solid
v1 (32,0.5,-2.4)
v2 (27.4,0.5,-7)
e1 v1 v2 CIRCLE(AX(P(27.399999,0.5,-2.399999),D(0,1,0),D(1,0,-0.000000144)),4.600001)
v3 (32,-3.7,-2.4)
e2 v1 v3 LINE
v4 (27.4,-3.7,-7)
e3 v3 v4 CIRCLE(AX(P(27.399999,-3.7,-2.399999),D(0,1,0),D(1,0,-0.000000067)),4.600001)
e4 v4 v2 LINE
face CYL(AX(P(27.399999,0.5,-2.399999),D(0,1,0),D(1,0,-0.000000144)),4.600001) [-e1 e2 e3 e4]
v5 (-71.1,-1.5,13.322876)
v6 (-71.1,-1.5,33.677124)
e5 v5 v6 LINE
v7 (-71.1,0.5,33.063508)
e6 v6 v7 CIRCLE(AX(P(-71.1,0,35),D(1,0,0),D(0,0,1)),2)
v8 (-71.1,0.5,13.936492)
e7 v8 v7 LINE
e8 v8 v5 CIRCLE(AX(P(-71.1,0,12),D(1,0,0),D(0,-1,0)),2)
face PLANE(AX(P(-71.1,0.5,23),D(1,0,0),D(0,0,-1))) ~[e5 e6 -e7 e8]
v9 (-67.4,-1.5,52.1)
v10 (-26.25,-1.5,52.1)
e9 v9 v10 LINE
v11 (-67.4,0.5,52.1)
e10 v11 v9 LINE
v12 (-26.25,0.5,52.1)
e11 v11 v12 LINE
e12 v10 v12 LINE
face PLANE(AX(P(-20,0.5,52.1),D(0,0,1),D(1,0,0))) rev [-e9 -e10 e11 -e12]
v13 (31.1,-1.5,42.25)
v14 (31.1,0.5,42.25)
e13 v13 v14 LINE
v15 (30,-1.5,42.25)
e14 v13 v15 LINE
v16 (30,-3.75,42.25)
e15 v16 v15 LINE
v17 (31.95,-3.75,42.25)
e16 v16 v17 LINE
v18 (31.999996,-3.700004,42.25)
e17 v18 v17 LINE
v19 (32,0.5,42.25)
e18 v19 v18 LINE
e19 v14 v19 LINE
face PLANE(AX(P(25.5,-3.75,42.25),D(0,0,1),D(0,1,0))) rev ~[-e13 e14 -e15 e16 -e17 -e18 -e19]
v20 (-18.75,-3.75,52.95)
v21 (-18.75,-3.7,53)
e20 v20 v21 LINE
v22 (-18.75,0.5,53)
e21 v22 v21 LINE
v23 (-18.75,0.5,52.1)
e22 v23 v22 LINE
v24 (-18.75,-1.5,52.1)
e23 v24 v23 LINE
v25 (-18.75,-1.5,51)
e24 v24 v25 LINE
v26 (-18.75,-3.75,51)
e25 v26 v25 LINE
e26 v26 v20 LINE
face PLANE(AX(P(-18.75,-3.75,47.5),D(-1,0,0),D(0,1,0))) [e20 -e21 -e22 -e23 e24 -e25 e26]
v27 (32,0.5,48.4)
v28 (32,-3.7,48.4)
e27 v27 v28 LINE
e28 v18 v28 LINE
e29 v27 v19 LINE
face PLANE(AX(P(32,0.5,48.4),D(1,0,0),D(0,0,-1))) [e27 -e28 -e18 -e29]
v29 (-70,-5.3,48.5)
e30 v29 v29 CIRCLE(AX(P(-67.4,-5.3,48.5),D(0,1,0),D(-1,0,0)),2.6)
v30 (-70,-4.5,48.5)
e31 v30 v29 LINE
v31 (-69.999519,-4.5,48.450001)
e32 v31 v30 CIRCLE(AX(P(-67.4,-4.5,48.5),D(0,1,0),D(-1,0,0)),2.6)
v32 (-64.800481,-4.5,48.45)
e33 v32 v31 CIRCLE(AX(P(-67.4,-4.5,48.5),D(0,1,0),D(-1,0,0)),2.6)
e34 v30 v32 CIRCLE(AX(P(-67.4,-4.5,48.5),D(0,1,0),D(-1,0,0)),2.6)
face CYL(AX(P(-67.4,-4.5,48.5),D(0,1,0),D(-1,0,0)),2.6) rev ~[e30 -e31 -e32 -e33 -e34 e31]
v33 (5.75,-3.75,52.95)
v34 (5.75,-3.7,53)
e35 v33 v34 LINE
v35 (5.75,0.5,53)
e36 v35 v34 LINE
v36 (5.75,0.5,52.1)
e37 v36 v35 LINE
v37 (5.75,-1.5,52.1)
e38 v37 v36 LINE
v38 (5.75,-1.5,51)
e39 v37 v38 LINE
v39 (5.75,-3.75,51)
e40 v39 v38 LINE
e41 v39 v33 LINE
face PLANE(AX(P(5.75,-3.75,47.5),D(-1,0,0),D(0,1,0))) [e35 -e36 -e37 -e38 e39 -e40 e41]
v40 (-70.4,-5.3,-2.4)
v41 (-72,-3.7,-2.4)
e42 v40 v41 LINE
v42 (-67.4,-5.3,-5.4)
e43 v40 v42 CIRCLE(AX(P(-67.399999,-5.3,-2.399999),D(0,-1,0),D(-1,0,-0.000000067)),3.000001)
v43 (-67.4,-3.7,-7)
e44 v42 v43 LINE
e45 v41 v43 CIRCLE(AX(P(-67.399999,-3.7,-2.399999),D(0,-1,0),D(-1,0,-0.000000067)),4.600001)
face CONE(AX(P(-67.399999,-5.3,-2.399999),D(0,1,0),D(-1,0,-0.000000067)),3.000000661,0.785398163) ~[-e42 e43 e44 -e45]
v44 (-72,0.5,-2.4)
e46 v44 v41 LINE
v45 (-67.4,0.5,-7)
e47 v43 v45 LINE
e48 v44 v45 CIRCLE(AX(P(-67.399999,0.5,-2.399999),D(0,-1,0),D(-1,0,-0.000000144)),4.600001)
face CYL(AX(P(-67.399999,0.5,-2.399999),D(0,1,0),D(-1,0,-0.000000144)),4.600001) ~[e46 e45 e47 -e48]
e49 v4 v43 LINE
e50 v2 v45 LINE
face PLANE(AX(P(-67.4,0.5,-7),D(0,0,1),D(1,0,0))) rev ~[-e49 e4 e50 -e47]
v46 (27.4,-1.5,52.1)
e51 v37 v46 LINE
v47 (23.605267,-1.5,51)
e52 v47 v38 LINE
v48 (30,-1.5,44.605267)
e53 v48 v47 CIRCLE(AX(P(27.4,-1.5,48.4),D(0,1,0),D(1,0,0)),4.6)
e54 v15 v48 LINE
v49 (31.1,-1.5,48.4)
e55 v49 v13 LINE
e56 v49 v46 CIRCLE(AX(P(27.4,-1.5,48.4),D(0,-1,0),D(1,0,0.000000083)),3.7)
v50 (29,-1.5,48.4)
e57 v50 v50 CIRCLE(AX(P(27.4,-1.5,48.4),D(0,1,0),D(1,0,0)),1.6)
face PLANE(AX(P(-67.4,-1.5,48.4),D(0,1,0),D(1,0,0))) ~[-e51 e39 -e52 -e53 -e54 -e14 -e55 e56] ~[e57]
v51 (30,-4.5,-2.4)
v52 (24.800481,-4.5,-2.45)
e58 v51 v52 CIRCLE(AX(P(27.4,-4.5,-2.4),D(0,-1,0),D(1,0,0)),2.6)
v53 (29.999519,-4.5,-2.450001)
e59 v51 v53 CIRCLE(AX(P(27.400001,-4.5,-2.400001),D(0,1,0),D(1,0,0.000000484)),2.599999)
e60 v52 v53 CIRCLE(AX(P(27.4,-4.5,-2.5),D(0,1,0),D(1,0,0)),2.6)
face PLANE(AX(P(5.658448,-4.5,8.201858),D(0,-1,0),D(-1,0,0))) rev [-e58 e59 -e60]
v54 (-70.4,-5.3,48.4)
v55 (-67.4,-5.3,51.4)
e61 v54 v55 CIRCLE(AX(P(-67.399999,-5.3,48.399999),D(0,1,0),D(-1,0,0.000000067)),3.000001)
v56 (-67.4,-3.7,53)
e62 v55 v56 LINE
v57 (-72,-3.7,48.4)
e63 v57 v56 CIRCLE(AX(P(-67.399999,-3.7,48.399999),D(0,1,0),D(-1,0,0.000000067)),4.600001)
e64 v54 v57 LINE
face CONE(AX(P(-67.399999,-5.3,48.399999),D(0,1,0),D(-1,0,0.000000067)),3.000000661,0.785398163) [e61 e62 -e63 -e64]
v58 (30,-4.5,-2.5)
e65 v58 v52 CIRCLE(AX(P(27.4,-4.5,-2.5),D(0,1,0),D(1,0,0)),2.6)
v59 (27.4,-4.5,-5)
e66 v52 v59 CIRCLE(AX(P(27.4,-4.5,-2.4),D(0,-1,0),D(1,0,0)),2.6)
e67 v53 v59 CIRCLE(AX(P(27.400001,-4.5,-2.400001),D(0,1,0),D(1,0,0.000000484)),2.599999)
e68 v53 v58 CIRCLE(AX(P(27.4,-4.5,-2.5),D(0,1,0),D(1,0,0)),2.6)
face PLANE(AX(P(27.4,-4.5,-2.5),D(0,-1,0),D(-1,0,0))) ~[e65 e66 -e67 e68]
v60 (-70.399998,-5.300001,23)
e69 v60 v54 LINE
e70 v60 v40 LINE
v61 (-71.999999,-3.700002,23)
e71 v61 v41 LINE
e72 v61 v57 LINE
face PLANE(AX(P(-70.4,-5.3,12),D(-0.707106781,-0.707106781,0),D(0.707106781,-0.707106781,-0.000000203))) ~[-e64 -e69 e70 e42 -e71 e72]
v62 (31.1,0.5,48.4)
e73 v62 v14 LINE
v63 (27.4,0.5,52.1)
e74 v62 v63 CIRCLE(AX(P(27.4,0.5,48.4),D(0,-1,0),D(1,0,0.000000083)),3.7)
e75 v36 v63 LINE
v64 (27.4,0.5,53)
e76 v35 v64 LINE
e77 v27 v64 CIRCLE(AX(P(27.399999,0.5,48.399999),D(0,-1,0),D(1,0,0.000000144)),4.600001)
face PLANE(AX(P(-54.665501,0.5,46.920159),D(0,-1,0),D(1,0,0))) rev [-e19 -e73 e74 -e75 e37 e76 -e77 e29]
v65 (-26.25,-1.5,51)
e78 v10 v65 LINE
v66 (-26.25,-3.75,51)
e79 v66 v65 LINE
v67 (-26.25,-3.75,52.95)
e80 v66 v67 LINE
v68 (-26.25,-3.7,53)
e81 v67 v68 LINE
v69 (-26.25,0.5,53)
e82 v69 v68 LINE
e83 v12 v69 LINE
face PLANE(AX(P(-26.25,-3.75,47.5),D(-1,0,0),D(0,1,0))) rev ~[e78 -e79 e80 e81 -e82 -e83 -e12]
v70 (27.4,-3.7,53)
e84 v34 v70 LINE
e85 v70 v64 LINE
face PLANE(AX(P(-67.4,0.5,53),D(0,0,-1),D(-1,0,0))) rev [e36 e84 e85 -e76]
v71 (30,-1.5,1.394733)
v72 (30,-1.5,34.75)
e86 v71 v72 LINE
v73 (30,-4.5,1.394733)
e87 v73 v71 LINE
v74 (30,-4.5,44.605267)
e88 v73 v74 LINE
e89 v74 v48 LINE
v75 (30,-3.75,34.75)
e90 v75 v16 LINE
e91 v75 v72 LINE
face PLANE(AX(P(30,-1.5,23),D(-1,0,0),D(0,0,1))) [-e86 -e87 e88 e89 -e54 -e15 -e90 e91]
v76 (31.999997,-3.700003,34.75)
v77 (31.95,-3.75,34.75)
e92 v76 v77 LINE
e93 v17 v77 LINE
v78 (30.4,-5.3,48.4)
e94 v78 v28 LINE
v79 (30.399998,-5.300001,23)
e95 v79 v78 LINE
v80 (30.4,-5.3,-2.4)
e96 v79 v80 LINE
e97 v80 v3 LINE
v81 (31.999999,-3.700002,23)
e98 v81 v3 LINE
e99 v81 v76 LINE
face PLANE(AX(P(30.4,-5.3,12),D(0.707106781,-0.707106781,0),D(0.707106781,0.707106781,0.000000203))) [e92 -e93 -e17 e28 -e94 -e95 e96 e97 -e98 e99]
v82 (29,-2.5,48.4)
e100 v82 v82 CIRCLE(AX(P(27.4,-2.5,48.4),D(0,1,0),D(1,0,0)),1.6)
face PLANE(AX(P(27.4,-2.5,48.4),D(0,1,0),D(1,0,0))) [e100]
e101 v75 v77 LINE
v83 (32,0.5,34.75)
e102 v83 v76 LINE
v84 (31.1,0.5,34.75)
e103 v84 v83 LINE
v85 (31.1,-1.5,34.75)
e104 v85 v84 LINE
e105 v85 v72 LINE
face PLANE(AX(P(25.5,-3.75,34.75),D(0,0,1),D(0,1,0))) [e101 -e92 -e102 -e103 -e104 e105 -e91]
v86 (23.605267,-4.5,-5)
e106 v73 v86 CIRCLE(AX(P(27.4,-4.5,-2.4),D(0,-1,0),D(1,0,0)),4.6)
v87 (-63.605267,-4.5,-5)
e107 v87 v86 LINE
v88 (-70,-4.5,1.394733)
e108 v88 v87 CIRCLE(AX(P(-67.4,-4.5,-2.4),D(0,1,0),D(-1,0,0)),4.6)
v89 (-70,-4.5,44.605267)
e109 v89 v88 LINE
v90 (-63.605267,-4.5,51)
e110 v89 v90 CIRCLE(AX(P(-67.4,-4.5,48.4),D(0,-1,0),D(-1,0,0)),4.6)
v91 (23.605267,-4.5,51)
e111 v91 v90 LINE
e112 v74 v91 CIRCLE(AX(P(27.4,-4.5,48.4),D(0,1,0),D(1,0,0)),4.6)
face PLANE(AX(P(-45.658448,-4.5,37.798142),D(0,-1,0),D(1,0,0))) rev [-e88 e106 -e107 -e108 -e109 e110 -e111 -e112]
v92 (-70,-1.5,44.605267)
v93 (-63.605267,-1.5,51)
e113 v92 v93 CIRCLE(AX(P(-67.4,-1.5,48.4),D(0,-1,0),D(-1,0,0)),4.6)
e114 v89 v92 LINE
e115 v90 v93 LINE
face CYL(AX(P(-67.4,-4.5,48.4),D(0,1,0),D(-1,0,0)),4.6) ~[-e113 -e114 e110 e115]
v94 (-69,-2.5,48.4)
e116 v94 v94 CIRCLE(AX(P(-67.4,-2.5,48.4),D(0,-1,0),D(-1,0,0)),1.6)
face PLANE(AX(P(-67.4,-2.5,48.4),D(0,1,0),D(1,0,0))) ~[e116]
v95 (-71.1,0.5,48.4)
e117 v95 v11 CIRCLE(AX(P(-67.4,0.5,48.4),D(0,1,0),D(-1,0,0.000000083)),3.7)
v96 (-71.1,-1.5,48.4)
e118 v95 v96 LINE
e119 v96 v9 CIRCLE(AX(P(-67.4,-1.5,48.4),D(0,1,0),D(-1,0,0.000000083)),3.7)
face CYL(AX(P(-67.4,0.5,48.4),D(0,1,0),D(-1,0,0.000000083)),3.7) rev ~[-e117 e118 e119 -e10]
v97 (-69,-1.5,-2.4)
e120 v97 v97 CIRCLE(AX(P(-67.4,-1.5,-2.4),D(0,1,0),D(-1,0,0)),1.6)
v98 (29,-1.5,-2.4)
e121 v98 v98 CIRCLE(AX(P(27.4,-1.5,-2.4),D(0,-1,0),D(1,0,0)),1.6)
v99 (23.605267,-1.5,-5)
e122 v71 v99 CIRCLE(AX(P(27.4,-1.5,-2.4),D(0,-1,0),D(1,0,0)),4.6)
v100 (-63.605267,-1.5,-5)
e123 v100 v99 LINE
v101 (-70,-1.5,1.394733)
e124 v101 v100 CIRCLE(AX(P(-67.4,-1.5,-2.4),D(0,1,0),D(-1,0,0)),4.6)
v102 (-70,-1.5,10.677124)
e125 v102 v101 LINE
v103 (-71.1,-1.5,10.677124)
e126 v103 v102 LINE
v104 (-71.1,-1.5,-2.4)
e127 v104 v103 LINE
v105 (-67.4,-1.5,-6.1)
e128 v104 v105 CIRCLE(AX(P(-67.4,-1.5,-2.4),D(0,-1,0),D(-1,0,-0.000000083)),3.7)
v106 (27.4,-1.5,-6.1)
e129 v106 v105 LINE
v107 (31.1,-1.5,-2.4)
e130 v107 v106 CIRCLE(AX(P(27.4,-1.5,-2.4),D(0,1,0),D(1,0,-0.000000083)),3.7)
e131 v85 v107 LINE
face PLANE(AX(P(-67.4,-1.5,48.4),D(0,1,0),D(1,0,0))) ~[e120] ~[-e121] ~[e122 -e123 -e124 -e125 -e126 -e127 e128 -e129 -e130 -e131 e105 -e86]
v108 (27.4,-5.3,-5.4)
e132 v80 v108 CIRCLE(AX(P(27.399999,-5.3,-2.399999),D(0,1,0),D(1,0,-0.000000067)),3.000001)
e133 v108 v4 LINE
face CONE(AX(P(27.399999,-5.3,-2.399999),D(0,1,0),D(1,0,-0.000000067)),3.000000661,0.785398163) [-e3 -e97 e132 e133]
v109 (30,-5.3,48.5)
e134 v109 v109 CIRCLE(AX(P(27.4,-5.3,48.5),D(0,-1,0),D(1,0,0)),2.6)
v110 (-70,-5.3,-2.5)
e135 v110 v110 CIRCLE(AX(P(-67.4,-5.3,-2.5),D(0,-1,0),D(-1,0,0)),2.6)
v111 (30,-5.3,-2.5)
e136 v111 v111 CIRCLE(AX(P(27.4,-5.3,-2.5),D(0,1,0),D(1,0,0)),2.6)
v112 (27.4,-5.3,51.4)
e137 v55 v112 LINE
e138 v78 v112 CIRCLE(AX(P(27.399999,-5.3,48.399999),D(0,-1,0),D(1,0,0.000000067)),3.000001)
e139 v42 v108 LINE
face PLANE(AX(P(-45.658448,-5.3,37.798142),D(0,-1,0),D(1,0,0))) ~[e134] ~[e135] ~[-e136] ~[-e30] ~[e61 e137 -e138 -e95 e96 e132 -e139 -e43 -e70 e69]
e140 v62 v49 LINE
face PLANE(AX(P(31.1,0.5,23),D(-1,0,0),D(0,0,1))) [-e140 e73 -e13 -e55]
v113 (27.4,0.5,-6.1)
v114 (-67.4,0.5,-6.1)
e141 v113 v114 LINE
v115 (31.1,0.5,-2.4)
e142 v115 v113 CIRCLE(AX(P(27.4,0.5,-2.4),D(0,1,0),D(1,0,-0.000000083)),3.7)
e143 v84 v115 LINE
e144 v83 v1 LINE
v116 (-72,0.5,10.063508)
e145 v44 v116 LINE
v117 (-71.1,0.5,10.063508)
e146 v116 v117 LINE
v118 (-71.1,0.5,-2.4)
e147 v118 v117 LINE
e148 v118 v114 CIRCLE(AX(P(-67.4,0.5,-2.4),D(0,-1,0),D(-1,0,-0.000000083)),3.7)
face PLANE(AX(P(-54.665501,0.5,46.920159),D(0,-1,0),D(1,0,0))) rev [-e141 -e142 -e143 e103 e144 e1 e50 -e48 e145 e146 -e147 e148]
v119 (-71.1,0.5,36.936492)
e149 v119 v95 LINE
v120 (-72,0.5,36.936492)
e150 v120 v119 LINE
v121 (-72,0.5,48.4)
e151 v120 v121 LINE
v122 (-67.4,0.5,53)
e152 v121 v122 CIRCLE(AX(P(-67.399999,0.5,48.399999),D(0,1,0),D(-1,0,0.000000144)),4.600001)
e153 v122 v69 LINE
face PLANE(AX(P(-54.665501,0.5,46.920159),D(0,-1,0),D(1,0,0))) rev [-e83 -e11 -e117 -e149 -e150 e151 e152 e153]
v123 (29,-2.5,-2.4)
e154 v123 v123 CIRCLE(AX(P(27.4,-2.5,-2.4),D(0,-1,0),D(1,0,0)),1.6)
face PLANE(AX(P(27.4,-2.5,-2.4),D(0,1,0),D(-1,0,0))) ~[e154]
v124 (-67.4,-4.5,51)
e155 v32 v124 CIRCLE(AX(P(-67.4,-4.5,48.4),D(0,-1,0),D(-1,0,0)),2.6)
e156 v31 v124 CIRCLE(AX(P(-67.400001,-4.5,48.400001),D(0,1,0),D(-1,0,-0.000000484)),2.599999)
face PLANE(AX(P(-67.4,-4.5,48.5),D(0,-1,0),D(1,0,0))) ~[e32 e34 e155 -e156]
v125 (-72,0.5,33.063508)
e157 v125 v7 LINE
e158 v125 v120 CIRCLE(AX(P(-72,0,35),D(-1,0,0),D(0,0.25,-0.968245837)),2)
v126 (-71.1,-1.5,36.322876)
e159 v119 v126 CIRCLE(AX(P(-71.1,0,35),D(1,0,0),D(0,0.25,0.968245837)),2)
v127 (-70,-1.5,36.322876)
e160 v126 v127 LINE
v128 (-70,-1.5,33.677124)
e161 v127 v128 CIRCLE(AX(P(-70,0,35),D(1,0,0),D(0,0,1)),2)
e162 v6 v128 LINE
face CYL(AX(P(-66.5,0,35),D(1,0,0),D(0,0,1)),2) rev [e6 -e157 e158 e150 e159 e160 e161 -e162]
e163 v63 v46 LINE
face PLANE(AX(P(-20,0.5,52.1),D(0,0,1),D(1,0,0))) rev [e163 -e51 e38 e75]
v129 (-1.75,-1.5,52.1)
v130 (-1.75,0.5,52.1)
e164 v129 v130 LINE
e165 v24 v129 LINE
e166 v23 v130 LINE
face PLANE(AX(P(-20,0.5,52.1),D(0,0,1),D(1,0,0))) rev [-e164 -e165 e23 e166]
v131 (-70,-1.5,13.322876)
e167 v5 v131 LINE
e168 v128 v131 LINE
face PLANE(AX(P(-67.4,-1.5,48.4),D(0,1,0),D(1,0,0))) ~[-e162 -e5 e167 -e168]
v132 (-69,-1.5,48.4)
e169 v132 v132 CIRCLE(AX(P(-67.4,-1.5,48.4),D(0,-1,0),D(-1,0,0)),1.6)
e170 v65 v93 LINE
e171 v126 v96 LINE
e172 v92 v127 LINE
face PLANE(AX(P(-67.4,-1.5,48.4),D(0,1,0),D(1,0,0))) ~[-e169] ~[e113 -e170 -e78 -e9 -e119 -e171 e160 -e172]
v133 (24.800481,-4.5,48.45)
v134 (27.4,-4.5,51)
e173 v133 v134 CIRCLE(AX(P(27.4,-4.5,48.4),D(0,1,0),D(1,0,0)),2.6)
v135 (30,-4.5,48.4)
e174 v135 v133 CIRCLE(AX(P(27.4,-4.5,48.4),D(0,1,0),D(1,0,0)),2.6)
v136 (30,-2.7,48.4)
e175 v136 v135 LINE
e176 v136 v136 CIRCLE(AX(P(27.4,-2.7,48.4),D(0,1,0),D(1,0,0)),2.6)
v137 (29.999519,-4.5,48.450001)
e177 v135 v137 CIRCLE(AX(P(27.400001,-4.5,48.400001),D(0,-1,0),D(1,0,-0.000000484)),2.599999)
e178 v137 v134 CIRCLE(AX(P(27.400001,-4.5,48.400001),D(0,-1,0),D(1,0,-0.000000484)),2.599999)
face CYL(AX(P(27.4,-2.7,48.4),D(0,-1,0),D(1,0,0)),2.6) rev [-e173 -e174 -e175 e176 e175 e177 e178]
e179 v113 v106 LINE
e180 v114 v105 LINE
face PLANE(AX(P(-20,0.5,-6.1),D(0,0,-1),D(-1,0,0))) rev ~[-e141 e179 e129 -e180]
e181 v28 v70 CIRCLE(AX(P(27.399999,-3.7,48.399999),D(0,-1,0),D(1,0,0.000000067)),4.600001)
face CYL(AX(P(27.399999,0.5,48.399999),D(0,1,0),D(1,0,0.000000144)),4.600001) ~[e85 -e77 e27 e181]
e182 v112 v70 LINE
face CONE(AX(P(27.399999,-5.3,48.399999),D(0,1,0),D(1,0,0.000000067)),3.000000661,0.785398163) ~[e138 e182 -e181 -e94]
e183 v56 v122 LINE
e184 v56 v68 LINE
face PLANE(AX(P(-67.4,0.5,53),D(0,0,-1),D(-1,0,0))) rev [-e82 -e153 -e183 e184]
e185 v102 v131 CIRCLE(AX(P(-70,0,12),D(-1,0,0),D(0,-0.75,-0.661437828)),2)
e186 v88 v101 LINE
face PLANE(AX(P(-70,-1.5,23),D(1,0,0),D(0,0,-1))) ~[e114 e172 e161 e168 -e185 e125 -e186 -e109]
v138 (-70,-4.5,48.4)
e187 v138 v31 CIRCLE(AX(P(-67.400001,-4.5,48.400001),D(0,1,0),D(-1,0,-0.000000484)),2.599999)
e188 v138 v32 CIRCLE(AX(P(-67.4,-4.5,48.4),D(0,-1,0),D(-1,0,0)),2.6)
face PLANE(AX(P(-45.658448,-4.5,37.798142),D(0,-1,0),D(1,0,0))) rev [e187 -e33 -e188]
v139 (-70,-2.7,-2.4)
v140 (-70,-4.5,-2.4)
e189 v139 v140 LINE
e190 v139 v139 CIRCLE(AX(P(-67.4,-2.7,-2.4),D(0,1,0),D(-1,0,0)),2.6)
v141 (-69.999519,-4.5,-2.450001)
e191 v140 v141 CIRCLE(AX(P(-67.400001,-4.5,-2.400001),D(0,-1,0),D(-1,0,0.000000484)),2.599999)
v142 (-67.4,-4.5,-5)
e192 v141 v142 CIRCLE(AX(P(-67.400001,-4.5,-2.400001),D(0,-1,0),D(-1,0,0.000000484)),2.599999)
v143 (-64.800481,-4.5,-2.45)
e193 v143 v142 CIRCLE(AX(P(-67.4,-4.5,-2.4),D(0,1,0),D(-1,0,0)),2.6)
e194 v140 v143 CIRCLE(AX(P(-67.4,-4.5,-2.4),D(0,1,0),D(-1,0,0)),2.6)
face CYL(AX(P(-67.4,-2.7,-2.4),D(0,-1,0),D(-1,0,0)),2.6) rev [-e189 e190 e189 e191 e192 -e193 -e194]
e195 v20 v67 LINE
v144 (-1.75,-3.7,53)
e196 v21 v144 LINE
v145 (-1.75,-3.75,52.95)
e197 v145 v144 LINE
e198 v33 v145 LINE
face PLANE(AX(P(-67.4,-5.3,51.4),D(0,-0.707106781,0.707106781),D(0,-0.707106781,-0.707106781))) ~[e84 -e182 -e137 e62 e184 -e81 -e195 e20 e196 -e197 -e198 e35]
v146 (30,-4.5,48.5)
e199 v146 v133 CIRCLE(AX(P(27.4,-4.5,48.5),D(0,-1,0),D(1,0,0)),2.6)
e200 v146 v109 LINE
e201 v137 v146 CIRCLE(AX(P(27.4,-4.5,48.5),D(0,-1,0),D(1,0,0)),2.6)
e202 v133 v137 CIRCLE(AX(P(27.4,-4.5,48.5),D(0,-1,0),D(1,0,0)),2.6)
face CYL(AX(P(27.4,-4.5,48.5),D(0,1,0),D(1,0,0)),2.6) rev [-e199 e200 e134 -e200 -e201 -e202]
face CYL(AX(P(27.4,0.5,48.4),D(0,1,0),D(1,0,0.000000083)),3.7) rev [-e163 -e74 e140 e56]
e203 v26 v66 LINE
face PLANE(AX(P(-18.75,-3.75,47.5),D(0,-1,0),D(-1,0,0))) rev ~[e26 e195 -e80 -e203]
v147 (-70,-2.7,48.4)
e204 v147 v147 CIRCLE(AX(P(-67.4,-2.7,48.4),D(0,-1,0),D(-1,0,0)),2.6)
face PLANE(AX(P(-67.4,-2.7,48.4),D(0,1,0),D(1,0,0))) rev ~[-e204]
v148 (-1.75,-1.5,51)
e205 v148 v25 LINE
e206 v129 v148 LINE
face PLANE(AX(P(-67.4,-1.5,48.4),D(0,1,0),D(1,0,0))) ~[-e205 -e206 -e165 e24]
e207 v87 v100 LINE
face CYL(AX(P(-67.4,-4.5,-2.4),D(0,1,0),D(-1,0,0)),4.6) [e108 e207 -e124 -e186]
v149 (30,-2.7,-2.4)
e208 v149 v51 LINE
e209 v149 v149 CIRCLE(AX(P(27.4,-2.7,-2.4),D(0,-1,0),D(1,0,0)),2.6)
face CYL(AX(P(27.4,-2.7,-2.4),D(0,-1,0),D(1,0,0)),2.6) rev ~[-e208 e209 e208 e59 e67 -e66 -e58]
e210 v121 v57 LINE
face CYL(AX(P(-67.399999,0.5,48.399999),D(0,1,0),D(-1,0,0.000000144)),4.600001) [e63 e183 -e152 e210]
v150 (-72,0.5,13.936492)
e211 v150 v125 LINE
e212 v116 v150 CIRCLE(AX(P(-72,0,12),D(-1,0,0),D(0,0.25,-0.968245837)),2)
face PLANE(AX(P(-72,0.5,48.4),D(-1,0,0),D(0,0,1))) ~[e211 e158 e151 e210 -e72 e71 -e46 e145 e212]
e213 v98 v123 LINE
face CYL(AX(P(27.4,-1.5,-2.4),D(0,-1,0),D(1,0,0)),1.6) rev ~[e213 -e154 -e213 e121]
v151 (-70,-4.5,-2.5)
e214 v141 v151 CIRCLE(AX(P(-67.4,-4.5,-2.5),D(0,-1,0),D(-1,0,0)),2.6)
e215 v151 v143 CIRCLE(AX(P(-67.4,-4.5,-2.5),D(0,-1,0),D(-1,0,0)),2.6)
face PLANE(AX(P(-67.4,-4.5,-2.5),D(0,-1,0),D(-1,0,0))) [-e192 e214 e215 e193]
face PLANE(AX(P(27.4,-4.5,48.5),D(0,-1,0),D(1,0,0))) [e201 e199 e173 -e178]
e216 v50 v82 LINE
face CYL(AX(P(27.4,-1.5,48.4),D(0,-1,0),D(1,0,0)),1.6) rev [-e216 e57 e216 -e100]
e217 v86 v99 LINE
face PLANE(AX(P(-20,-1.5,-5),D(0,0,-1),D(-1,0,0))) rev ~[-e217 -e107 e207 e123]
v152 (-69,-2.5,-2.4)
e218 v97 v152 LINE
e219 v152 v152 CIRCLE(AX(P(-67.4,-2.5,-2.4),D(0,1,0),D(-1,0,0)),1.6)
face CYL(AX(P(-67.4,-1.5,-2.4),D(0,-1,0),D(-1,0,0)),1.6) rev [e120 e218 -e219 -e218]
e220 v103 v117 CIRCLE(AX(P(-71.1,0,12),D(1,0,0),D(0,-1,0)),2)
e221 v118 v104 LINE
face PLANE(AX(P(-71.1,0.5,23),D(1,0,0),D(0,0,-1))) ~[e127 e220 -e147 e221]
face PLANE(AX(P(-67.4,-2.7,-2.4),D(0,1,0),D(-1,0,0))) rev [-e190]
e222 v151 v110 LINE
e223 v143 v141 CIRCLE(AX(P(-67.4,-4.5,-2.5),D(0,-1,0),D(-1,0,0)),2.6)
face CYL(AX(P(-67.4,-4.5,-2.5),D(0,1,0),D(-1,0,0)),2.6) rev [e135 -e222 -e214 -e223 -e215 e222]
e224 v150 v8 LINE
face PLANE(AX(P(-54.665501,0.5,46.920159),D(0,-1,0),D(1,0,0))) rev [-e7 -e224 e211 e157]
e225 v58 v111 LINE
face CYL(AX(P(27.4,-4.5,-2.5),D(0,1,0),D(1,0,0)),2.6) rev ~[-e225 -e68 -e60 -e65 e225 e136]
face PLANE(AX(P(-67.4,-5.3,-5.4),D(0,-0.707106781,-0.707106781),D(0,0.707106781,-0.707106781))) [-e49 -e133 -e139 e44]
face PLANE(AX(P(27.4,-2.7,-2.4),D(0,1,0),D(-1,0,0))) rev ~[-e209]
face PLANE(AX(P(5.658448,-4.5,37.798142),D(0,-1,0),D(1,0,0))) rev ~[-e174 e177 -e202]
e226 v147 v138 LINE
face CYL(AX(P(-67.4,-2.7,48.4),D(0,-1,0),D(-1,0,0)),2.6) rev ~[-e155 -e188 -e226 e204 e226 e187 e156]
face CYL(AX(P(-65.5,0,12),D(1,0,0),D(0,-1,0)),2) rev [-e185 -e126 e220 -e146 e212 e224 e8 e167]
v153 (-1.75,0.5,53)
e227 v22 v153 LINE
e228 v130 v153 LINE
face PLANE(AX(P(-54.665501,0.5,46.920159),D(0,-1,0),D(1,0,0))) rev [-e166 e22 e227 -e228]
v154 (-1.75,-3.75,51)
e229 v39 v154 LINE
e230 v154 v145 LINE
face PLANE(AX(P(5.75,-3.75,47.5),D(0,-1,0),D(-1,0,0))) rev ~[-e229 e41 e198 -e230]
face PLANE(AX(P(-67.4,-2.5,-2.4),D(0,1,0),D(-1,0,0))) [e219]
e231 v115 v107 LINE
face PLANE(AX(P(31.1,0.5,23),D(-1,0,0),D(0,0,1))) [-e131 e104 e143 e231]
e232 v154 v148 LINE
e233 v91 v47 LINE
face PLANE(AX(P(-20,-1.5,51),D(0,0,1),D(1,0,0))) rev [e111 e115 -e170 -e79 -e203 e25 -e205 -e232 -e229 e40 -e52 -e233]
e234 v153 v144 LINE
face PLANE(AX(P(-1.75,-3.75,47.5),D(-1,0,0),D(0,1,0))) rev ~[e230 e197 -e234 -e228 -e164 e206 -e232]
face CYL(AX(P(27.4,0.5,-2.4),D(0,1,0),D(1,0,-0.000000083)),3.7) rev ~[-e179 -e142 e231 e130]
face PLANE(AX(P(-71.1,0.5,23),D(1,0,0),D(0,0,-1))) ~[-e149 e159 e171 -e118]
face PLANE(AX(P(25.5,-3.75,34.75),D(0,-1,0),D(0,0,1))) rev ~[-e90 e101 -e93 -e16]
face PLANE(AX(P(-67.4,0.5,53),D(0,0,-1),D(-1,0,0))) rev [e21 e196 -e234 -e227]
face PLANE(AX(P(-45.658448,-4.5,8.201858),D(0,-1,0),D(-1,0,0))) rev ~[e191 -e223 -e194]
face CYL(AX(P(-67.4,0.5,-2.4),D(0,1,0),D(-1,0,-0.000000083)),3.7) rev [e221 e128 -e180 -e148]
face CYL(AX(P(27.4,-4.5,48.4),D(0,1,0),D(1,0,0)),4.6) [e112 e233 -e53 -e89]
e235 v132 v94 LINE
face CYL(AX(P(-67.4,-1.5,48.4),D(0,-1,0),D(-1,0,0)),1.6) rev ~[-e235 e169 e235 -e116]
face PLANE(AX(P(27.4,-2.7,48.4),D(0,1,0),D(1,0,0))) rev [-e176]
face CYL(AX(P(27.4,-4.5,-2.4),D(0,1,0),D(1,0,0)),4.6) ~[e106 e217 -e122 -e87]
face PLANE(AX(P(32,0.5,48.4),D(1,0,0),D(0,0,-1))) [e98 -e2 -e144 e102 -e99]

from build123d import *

# Parameters (mm, degrees)
CYLINDER001_R           = 2
CYLINDER001_DEPTH       = 10
SKETCH037_W             = 7.5
SKETCH037_H             = 7.5
EXTRUDE045_DEPTH        = 10
BOX089_W                = 11
BOX089_H                = 10
BOX089_DEPTH            = 35
BODY005_PLACEMENT_ANGLE = 90
BODY006_PLACEMENT_ANGLE = 90
CYLINDER003_R           = 2
CYLINDER003_DEPTH       = 10
CYLINDER002_R           = 1.7
CYLINDER002_DEPTH       = 10
SKETCH032_R             = 2.6
EXTRUDE043_DEPTH        = 0.8
EXTRUDE040_DEPTH        = 3
EXTRUDE038_DEPTH        = 2
EXTRUDE041_DEPTH        = 0.8


with BuildPart() as battery_cable:
    # Cylinder001 → Cylinder001 (new body)
    with BuildSketch(Plane(origin=(-66.5, 0, 35), x_dir=(0, 0, 1), z_dir=(-1, 0, 0))):
        Circle(CYLINDER001_R)
    extrude(amount=CYLINDER001_DEPTH)


with BuildPart() as switch_hole002:
    # Sketch037 → Extrude045 (new body)
    with BuildSketch(Plane.YZ.offset(35)):
        with Locations((0, 38.5)):
            Rectangle(SKETCH037_W, SKETCH037_H)
    extrude(amount=EXTRUDE045_DEPTH)


with BuildPart() as switch_hole002_1:
    # Extrude045 placement: moved
    add(switch_hole002.part.moved(Location((-9.5, 0, 0))))


with BuildPart() as dips001:
    # Box089 → Box089 (new body)
    with BuildSketch(Plane(origin=(-15, 0.5, 13.5), x_dir=(0, 0, -1), z_dir=(1, 0, 0))):
        with Locations((5.5, 5)):
            Rectangle(BOX089_W, BOX089_H)
    extrude(amount=BOX089_DEPTH)


with BuildPart() as switch_hole001:
    # Body005 base: copy of switch hole002
    add(switch_hole002_1.part)


with BuildPart() as switch_hole001_1:
    # Body005 placement: moved
    add(switch_hole001.part.moved(Location((40.5, 0, 22))).rotate(Axis((40.5, 0, 22), (0, -1, 0)), BODY005_PLACEMENT_ANGLE))


with BuildPart() as switch_hole:
    # Body006 base: copy of switch hole002
    add(switch_hole002_1.part)


with BuildPart() as switch_hole_1:
    # Body006 placement: moved
    add(switch_hole.part.moved(Location((16, 0, 22))).rotate(Axis((16, 0, 22), (0, -1, 0)), BODY006_PLACEMENT_ANGLE))


with BuildPart() as cable:
    # Cylinder003 → Cylinder003 (new body)
    with BuildSketch(Plane(origin=(-65.5, 0, 12), x_dir=(0, -1, 0), z_dir=(-1, 0, 0))):
        Circle(CYLINDER003_R)
    extrude(amount=CYLINDER003_DEPTH)


with BuildPart() as common_sub:
    # Cylinder002 → Cylinder002 (new body)
    with BuildSketch(Plane(origin=(25, -1.5, 28), x_dir=(1, 0, 0), z_dir=(0, 1, 0))):
        Circle(CYLINDER002_R)
    extrude(amount=CYLINDER002_DEPTH)

    # Fusion033: union battery cable, switch hole002, dips001, switch hole001, switch hole, cable
    add(battery_cable.part)
    add(switch_hole002_1.part)
    add(dips001.part)
    add(switch_hole001_1.part)
    add(switch_hole_1.part)
    add(cable.part)


with BuildPart() as sweep_body:
    # Sweep: sweep along a path in Sketch034
    with BuildLine(Plane.XZ.offset(10)) as sweep_path:
        Line((32, 12), (32, 48.4))
        ThreePointArc((32, 48.4), (30.652691, 51.652691), (27.4, 53))
        Line((27.4, 53), (-20, 53))
    # Sketch033 → Sweep (sweep)
    with BuildSketch(Plane.YZ):
        Polygon((-5.3, 51.4), (-3.7, 53), (-3.7, 54), (-6, 54), (-6, 51.4), align=None)
    sweep(path=sweep_path.line)


with BuildPart() as fusion:
    # Sketch032 → Extrude043 (new body)
    with BuildSketch(Plane.XZ.offset(10)):
        with Locations((27.4, 48.5)):
            Circle(SKETCH032_R)
    extrude(amount=EXTRUDE043_DEPTH)


with BuildPart() as fusion_1:
    # Extrude043 placement: moved
    add(fusion.part.moved(Location((0, 5.5, 0))))

    # Fusion: union Sweep body
    add(sweep_body.part)


with BuildPart() as bottom003:
    # Sketch028 → Extrude040 (new body)
    with BuildSketch(Plane.XZ.offset(10)):
        with BuildLine():
            ThreePointArc((32, 48.4), (30.652691, 51.652691), (27.4, 53))
            Line((27.4, 53), (-20, 53))
            Line((-20, 53), (-20, 51))
            Line((-20, 51), (27.4, 51))
            ThreePointArc((30, 48.4), (29.238478, 50.238478), (27.4, 51))
            Line((30, 23), (30, 48.4))
            Line((32, 23), (30, 23))
            Line((32, 48.4), (32, 23))
        make_face()
    extrude(amount=EXTRUDE040_DEPTH)


with BuildPart() as bottom003_1:
    # Extrude040 placement: moved
    add(bottom003.part.moved(Location((0, 8.5, 0))))


with BuildPart() as bottom004:
    # Sketch030 → Extrude038 (new body)
    with BuildSketch(Plane.XZ.offset(10)):
        with BuildLine():
            ThreePointArc((32, 48.4), (30.652691, 51.652691), (27.4, 53))
            Line((27.4, 53), (-20, 53))
            Line((-20, 53), (-20, 52.1))
            Line((-20, 52.1), (27.4, 52.1))
            ThreePointArc((31.1, 48.4), (30.016295, 51.016295), (27.4, 52.1))
            Line((31.1, 23), (31.1, 48.4))
            Line((32, 23), (31.1, 23))
            Line((32, 48.4), (32, 23))
        make_face()
    extrude(amount=EXTRUDE038_DEPTH)


with BuildPart() as bottom004_1:
    # Extrude038 placement: moved
    add(bottom004.part.moved(Location((0, 10.5, 0))))


with BuildPart() as screw_hole_bottom002:
    # Sketch003 → Revolve (revolve)
    with BuildSketch(Plane.XY):
        Polygon((1.6, 3), (1.6, 2), (0, 2), (0, 1.8), (2.6, 1.8), (2.6, 0), (4.6, 0), (4.6, 3), align=None)
    revolve(axis=Axis((0, 0, 0), (0, 1, 0)))


with BuildPart() as screw_hole_bottom002_1:
    # Body003 placement: moved
    add(screw_hole_bottom002.part.moved(Location((27.4, -4.5, 48.4))))


with BuildPart() as bottom:
    # Sketch031 → Extrude041 (new body)
    with BuildSketch(Plane.XZ.offset(10)):
        with BuildLine():
            ThreePointArc((32, 48.4), (30.652691, 51.652691), (27.4, 53))
            Line((27.4, 53), (-20, 53))
            Line((-20, 53), (-20, 23))
            Line((-20, 23), (32, 23))
            Line((32, 48.4), (32, 23))
        make_face()
    extrude(amount=EXTRUDE041_DEPTH)


with BuildPart() as bottom_1:
    # Extrude041 placement: moved
    add(bottom.part.moved(Location((0, 5.5, 0))))

    # Fusion029: union bottom003, bottom004, screw hole bottom002
    add(bottom003_1.part)
    add(bottom004_1.part)
    add(screw_hole_bottom002_1.part)

    # Cut: cut Fusion
    add(fusion_1.part, mode=Mode.SUBTRACT)


with BuildPart() as part_mirroring005:
    # Part__Mirroring005: instance of bottom
    add(bottom_1.part.mirror(Plane(origin=(-20, 0, 0), x_dir=(0, -1, 0), z_dir=(1, 0, 0))))


with BuildPart() as part_mirroring006:
    # Part__Mirroring006: instance of Part__Mirroring005
    add(part_mirroring005.part.mirror(Plane(origin=(0, 0, 23), x_dir=(0, 1, 0), z_dir=(0, 0, 1))))


with BuildPart() as bottom007:
    # Part__Mirroring004: instance of bottom
    add(bottom_1.part.mirror(Plane(origin=(0, 0, 23), x_dir=(0, 1, 0), z_dir=(0, 0, 1))))

    # Fusion031: union bottom, Part__Mirroring006, Part__Mirroring005
    add(bottom_1.part)
    add(part_mirroring006.part)
    add(part_mirroring005.part)

    # Cut026: cut common sub
    add(common_sub.part, mode=Mode.SUBTRACT)


solid = bottom007.part
